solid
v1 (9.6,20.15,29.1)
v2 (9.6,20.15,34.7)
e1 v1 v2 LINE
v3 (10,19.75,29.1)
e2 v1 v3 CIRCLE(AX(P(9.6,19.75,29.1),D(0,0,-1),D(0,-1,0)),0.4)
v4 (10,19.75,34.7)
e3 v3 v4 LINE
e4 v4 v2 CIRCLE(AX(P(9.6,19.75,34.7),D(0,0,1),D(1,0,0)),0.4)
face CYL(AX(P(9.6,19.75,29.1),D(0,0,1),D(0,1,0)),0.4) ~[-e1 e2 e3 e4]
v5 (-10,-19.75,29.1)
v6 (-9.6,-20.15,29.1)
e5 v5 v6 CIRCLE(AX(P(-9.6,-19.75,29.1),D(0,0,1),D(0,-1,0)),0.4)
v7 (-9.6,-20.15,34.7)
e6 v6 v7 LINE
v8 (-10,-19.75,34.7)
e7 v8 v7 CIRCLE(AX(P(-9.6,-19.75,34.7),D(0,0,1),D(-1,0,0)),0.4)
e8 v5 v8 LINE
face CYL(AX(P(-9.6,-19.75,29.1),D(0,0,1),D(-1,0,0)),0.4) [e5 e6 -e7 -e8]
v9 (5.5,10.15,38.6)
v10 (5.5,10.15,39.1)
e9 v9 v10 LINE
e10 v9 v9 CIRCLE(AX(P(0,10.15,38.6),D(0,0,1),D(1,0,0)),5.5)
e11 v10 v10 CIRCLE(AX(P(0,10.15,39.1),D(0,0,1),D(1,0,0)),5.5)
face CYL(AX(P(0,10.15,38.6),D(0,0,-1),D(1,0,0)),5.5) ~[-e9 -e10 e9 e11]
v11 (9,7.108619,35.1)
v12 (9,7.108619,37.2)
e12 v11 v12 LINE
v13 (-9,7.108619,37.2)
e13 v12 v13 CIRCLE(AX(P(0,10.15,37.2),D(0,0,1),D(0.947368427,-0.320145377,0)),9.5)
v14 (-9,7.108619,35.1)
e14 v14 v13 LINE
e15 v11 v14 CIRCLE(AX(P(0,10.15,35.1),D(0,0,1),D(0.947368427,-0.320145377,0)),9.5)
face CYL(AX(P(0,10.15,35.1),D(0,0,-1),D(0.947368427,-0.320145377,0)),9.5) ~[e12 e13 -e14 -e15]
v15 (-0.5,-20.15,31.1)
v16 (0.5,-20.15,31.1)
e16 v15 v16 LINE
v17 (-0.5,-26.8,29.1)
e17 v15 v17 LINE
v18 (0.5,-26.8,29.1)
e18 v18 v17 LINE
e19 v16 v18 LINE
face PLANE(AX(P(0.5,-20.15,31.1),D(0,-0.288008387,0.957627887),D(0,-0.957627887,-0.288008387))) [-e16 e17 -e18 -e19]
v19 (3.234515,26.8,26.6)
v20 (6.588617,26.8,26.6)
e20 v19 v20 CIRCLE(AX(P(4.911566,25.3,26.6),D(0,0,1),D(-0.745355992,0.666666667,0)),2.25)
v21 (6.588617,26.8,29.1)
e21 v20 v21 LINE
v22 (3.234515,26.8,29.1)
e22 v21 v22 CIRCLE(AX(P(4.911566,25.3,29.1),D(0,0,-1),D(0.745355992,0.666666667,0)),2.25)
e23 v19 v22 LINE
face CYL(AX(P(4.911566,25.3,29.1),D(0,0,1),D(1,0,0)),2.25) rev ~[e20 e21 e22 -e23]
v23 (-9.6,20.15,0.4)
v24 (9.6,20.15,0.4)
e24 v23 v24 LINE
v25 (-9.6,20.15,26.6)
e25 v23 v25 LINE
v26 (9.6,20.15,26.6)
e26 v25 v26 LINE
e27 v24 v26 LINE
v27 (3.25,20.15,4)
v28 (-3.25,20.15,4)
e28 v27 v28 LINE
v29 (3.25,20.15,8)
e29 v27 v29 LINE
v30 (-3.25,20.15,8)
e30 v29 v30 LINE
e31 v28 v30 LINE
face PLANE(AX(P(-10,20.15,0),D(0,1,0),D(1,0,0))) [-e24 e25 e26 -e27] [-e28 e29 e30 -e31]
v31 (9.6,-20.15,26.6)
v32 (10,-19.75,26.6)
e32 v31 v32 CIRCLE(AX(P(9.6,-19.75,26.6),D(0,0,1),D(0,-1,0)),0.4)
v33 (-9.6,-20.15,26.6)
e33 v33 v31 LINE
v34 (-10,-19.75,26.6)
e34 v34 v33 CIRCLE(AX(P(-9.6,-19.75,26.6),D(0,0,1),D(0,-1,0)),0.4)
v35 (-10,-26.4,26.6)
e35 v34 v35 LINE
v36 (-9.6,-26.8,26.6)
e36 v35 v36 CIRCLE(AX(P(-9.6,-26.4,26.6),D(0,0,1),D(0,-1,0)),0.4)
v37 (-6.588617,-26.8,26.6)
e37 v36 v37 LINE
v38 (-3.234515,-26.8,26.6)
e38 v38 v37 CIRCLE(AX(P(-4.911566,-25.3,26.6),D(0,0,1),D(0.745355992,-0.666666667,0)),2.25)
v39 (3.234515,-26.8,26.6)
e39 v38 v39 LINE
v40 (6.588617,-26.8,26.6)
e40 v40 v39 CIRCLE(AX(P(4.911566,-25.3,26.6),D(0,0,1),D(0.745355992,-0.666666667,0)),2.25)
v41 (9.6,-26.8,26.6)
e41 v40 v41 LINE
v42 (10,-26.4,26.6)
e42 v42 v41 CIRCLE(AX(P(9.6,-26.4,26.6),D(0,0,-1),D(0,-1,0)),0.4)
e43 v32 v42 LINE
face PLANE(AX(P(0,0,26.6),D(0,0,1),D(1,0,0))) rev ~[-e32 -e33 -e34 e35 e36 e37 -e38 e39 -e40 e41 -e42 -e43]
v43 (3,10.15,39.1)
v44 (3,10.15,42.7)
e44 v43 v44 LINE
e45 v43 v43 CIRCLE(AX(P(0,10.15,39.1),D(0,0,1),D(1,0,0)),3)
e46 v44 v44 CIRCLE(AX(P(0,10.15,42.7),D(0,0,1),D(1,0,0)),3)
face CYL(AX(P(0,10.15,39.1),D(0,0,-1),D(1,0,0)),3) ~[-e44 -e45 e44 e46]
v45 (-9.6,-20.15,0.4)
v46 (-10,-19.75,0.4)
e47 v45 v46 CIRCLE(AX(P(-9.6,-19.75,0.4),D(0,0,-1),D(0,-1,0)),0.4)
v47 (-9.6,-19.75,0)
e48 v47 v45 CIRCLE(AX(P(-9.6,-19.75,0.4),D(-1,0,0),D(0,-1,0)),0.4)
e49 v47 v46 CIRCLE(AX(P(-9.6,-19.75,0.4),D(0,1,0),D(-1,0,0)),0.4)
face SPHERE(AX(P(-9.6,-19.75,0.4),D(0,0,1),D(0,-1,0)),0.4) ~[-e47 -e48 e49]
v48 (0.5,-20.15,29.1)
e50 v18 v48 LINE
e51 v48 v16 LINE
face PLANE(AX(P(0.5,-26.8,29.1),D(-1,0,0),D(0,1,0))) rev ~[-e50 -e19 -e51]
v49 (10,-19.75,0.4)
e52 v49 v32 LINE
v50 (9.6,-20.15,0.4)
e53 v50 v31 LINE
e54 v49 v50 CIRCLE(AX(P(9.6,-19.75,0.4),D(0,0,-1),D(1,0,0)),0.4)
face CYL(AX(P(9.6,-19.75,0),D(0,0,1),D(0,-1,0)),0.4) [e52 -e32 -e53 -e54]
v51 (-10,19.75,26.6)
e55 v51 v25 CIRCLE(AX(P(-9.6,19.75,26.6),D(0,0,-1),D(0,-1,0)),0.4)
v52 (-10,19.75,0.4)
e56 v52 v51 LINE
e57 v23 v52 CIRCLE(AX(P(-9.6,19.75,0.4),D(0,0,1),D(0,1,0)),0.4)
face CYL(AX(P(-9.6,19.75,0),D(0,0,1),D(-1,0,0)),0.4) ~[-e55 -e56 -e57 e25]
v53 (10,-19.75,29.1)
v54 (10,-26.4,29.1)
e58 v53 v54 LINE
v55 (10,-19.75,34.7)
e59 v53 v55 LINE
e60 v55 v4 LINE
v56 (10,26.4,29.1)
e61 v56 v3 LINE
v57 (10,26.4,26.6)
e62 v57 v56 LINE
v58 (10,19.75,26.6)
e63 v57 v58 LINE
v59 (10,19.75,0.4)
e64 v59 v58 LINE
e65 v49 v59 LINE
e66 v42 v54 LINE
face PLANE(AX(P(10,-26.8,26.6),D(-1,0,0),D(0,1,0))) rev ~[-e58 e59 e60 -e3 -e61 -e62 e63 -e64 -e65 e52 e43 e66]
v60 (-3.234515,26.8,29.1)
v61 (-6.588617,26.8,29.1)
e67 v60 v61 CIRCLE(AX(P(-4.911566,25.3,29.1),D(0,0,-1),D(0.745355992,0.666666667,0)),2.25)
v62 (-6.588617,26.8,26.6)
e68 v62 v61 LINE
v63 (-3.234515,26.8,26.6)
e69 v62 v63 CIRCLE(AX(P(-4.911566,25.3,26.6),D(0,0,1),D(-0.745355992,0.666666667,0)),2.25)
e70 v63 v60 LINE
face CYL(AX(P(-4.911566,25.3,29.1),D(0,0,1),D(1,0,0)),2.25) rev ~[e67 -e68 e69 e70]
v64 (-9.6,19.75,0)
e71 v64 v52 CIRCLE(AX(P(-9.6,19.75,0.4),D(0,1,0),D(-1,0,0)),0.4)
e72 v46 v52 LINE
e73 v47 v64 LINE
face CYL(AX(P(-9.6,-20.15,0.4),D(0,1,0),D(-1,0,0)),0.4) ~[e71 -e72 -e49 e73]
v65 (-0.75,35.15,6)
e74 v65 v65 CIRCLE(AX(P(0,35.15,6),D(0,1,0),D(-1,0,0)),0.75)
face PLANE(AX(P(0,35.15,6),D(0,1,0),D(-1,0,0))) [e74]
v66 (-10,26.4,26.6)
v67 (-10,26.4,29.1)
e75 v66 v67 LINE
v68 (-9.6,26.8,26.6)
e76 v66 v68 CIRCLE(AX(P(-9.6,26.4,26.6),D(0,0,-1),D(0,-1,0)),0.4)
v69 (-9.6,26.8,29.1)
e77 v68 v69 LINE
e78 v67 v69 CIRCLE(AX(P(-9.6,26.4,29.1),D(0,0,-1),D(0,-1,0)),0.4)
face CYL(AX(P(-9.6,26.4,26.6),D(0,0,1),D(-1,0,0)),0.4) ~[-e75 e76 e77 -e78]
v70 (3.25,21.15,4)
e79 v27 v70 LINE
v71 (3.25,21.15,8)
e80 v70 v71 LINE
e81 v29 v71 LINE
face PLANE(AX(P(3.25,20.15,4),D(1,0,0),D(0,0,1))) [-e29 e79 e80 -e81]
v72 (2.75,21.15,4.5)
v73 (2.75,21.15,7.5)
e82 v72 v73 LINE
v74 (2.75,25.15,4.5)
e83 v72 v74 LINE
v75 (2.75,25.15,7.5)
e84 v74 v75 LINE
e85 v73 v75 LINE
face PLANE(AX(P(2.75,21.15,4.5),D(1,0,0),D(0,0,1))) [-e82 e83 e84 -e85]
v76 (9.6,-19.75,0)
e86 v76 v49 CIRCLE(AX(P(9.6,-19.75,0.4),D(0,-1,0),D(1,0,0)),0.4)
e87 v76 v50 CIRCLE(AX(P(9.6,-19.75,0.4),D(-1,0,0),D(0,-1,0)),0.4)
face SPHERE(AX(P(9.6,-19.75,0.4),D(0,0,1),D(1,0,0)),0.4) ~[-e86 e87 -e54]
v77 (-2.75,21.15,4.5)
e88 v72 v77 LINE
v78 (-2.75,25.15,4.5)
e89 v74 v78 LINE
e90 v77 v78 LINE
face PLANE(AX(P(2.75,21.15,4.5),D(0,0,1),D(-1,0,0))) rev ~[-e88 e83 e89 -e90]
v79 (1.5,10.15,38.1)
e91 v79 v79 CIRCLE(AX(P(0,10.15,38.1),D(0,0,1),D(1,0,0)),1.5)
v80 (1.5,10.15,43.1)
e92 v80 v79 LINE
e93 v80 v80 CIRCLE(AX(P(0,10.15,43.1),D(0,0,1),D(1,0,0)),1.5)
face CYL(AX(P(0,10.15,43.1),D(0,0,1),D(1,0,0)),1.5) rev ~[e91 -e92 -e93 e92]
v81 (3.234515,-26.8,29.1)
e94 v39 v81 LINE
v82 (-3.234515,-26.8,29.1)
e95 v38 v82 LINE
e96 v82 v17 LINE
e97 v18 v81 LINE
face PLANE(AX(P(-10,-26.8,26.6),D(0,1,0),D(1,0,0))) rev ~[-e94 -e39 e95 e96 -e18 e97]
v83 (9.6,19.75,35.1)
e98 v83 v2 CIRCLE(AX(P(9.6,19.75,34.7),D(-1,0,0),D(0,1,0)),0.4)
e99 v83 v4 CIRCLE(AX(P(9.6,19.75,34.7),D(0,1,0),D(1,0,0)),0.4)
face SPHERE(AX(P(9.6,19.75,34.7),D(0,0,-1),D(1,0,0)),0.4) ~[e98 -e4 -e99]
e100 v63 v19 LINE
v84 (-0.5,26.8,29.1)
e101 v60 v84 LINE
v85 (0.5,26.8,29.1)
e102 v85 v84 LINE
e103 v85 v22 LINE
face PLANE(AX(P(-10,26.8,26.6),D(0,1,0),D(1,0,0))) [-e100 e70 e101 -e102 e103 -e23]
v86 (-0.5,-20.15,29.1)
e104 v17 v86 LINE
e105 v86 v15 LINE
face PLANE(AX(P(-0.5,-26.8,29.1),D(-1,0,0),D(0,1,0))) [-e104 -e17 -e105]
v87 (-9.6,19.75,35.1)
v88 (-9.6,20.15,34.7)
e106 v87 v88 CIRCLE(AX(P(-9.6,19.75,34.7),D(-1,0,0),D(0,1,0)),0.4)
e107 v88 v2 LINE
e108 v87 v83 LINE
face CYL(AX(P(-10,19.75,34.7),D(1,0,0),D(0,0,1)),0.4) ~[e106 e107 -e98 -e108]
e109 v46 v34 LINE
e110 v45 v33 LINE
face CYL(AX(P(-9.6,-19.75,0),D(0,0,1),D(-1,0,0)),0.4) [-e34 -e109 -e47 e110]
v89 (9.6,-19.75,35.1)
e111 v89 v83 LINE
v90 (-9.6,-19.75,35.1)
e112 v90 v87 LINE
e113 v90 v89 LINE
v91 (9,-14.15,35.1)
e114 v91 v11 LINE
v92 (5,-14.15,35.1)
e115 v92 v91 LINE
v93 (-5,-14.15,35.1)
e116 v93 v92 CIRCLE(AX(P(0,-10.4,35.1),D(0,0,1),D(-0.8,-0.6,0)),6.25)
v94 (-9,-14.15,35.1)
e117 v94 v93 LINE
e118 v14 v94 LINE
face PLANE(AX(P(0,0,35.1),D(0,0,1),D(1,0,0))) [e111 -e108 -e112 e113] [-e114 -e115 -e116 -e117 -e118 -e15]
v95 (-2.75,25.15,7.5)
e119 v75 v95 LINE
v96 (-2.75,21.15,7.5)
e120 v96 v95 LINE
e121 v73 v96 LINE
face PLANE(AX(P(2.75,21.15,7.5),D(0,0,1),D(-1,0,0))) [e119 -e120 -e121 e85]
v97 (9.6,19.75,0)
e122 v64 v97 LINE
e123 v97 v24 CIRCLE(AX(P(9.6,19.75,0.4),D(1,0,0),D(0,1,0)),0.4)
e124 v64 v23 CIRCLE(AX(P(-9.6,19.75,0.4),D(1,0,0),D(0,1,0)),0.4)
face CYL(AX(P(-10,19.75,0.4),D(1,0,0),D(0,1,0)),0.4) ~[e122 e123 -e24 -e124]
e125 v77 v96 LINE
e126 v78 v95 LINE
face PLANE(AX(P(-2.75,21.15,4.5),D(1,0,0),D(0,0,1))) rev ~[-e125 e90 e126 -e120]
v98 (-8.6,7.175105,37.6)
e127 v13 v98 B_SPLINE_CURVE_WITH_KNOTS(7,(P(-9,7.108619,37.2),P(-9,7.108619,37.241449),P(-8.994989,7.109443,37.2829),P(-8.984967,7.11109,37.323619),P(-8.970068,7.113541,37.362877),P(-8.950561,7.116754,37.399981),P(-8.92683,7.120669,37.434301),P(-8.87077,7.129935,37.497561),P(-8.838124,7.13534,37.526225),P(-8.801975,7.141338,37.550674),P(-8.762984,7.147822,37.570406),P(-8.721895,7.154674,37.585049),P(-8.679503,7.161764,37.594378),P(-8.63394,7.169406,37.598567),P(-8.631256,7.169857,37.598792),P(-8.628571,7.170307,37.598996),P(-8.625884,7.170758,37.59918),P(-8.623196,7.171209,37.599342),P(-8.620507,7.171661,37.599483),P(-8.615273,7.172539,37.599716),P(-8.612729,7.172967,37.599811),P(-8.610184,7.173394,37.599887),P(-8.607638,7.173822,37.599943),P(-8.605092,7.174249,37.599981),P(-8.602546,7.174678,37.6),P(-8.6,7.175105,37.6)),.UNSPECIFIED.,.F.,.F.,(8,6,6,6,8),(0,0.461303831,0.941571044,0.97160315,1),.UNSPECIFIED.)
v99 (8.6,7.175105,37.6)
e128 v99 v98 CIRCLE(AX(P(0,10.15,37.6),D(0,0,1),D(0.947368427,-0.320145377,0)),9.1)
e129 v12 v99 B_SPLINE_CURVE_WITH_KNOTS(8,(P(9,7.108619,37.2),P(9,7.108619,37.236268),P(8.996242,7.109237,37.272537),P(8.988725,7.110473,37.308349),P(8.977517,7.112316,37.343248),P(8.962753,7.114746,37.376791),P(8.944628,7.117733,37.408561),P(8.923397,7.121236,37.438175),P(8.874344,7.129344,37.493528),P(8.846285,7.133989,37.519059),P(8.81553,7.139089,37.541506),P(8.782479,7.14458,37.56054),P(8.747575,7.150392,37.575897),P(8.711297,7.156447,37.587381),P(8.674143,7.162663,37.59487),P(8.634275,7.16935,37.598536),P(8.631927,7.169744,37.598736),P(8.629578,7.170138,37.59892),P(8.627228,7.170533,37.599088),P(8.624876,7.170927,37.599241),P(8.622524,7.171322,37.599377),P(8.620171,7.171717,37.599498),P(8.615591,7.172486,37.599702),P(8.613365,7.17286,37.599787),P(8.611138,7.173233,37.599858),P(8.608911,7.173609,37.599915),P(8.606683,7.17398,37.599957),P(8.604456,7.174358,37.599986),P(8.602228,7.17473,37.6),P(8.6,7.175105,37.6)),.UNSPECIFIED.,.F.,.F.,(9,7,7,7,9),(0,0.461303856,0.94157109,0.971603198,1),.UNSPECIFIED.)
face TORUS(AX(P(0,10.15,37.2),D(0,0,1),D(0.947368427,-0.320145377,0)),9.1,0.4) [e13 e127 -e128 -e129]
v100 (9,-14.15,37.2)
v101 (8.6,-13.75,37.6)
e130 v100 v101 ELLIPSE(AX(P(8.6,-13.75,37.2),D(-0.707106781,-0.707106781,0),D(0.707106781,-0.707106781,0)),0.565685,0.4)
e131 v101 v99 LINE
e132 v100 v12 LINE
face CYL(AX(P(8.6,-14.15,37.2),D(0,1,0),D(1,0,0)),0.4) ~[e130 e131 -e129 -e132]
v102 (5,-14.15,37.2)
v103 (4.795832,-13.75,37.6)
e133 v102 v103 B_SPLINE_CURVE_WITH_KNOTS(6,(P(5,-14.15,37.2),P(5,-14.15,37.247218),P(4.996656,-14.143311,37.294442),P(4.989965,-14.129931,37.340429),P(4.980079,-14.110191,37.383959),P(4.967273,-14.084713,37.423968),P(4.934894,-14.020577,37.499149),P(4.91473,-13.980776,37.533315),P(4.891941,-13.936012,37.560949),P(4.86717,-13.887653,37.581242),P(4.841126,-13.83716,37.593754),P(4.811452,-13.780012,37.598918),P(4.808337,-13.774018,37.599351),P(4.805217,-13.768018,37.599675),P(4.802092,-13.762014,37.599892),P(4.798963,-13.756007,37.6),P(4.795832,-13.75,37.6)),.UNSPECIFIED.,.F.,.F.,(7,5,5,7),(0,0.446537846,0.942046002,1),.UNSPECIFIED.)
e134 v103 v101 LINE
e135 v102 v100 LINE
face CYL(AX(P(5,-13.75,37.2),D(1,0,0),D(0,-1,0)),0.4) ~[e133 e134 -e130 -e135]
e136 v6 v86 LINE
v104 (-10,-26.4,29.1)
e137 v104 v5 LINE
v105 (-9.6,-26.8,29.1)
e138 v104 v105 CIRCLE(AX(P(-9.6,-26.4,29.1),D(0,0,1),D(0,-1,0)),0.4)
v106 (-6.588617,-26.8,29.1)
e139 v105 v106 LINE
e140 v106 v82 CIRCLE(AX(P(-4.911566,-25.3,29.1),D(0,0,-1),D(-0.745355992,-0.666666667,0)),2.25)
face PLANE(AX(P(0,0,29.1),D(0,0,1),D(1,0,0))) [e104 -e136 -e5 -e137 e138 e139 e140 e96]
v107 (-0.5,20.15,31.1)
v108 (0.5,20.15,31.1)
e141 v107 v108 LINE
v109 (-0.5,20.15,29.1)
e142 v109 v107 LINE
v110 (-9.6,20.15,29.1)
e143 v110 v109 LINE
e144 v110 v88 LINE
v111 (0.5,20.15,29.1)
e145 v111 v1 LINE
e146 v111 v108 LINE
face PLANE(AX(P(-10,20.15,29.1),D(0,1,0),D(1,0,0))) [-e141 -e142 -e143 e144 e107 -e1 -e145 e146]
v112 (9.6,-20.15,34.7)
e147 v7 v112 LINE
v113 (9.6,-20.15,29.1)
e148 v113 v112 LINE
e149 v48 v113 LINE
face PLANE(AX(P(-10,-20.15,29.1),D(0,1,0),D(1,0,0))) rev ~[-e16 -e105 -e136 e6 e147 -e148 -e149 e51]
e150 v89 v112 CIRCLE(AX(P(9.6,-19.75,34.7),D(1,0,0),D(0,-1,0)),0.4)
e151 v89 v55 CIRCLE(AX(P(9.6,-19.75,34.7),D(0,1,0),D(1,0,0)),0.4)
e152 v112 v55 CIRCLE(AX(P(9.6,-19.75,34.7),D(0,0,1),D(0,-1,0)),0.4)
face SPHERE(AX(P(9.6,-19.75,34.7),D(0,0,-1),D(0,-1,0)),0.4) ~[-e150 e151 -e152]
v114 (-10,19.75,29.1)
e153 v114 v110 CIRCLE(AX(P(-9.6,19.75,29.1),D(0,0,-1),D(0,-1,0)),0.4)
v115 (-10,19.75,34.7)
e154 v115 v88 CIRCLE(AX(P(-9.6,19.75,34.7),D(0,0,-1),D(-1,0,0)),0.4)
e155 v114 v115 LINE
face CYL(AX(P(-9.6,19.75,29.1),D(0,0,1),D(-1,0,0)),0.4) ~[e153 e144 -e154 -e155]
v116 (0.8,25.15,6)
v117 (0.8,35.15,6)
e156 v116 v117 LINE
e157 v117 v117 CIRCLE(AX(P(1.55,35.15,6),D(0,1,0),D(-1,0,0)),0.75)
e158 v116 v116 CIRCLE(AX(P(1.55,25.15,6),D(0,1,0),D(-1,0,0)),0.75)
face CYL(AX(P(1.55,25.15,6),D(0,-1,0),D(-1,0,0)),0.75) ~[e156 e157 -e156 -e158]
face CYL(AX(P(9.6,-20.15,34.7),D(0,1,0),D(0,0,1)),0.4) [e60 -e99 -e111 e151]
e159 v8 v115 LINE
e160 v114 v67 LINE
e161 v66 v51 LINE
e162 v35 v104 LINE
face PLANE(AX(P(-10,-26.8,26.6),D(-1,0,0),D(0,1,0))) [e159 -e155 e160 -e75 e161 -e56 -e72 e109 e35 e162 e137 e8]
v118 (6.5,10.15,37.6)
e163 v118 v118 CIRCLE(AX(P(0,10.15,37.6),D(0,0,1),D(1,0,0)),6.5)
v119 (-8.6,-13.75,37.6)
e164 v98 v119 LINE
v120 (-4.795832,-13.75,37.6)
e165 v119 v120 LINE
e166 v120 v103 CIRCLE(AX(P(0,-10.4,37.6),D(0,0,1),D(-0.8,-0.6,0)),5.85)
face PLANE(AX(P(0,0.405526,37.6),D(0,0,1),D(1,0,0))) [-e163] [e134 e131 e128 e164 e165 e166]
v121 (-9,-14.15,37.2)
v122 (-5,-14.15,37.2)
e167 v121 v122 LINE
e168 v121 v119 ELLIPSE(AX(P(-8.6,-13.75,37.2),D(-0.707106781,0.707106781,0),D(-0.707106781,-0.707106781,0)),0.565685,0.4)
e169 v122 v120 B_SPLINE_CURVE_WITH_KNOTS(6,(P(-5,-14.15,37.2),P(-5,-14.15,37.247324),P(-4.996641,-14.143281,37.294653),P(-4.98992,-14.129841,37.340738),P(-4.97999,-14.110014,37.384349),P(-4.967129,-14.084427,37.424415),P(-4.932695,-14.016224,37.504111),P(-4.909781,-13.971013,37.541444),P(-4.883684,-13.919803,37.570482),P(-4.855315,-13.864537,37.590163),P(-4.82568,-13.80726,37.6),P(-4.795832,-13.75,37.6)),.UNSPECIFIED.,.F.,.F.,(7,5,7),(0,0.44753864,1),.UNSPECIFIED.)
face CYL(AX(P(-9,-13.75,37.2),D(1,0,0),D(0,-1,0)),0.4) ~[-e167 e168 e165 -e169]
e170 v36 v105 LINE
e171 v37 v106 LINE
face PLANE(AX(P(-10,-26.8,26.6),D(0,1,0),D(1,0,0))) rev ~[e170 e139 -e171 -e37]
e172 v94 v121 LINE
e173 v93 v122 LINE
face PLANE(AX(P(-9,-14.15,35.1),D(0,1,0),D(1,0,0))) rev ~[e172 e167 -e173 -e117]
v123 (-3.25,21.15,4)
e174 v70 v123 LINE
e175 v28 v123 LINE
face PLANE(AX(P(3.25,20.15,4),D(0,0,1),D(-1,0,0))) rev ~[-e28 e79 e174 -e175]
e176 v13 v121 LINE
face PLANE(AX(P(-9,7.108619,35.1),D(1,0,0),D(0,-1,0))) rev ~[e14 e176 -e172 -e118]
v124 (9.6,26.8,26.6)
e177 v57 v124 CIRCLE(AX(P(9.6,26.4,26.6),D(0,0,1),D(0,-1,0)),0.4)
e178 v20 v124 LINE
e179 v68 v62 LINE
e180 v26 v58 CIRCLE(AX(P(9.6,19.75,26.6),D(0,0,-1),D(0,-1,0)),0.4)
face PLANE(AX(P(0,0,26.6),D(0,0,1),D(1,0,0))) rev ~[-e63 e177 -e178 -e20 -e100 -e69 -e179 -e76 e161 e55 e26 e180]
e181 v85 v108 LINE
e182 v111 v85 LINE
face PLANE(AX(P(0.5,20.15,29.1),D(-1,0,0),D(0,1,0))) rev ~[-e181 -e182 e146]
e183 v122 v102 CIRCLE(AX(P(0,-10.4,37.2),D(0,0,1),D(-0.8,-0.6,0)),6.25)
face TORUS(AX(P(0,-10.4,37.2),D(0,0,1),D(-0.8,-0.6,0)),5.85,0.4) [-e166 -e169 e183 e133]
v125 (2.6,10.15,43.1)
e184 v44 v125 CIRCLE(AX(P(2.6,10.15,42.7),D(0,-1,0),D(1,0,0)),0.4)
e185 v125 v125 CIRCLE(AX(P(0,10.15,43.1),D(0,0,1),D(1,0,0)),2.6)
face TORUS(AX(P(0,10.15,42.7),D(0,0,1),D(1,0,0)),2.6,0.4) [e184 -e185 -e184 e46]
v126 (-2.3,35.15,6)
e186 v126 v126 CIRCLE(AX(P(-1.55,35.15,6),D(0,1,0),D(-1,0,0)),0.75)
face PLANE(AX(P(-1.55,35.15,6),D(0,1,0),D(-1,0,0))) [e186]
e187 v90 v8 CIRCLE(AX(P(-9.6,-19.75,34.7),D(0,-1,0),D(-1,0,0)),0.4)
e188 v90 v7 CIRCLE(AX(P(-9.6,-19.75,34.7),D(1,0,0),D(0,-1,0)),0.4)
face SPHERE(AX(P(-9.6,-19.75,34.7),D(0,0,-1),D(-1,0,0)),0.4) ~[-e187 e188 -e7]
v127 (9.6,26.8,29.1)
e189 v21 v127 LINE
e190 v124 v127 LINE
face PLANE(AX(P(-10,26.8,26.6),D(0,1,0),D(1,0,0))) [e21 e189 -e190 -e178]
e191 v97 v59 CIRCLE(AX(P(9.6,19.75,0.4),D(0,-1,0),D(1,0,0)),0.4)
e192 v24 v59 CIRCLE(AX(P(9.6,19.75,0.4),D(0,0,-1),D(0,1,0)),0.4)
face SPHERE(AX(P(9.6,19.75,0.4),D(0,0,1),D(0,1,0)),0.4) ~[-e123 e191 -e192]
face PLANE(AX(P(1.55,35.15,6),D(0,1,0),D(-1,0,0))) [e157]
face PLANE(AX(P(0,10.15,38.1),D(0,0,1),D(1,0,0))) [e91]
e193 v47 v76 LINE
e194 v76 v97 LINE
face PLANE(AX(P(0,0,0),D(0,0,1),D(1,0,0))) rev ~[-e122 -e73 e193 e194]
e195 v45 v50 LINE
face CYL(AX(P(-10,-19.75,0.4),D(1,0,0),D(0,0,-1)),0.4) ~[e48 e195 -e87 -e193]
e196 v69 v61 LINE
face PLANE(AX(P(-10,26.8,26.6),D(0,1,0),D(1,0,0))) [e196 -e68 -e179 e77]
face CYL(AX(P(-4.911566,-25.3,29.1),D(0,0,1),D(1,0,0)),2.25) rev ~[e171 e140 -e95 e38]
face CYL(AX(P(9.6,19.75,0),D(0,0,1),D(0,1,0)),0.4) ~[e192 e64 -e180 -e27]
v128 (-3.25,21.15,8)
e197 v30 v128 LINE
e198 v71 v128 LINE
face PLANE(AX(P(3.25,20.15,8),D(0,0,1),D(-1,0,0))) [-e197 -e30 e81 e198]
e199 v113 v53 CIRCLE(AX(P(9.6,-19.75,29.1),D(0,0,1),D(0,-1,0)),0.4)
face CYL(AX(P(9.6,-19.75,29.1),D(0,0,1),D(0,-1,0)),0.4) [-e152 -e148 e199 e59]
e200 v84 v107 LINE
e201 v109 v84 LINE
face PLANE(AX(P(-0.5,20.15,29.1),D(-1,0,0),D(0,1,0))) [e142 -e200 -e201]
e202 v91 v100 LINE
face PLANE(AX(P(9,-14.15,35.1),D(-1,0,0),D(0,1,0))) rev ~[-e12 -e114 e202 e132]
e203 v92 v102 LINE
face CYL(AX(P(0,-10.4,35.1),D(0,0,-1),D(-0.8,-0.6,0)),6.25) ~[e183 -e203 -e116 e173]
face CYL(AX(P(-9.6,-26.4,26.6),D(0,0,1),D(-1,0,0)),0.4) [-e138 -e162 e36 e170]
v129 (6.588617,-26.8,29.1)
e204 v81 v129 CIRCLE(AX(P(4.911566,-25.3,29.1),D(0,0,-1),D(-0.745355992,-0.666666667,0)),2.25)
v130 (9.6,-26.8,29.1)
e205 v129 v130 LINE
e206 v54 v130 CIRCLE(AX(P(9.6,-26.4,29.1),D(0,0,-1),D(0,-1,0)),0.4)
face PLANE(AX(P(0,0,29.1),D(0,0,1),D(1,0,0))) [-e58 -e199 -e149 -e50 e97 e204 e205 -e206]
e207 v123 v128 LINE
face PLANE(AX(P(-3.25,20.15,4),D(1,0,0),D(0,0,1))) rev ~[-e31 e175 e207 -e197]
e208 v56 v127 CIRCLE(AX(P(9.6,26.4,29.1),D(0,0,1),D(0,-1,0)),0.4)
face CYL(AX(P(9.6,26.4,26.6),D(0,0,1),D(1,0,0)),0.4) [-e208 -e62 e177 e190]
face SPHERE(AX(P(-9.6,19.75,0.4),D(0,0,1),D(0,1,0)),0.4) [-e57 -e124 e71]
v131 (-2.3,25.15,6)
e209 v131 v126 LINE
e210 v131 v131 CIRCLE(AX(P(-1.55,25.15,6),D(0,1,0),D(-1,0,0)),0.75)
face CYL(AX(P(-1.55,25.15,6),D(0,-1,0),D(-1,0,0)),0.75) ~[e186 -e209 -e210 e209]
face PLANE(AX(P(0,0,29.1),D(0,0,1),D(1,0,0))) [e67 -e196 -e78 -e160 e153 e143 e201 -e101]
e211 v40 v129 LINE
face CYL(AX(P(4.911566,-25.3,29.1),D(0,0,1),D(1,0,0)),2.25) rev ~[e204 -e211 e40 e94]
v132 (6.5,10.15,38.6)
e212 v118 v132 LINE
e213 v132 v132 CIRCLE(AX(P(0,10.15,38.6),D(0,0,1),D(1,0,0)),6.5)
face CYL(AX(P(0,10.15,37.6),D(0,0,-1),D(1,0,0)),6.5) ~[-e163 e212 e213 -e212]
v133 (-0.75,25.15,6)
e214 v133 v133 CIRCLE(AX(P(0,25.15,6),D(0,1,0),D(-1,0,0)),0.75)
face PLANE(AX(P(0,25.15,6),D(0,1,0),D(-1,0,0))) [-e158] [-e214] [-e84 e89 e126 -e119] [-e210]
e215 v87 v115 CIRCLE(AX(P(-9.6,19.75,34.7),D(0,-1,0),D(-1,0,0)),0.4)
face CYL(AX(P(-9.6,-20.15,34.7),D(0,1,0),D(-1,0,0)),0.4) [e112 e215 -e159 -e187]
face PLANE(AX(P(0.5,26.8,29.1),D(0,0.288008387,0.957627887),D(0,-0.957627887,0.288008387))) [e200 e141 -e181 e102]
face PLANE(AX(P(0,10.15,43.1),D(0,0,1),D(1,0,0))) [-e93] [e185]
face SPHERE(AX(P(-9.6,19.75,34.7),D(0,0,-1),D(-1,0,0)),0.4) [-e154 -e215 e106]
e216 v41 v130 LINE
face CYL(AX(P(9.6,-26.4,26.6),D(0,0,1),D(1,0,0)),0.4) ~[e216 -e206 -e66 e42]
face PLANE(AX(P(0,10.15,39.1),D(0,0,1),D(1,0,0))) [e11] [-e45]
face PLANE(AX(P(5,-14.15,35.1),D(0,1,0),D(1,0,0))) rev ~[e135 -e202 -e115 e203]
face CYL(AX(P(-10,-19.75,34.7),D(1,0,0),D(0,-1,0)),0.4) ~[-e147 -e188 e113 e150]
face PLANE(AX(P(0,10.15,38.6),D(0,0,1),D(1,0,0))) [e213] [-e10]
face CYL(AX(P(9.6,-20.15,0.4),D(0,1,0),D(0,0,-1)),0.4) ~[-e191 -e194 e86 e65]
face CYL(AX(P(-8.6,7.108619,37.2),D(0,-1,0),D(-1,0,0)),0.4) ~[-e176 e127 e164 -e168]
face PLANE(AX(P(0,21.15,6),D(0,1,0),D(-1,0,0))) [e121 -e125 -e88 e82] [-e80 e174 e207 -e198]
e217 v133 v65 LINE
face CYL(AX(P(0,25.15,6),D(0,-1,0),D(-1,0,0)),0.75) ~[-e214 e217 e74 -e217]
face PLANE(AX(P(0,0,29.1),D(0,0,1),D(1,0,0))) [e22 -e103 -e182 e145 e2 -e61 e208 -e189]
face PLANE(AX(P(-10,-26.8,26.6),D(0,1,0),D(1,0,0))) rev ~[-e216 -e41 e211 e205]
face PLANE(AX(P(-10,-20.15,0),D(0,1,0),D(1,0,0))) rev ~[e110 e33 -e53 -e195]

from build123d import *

# Parameters (mm, degrees)
SKETCH_W        = 20
SKETCH_H        = 40.3
PAD_DEPTH       = 26.6
SKETCH001_W     = 20
SKETCH001_H     = 53.6
PAD001_DEPTH    = 2.5
SKETCH002_W     = 20
SKETCH002_H     = 40.3
PAD002_DEPTH    = 6
PAD003_DEPTH    = 2.5
SKETCH004_R     = 6.5
PAD004_DEPTH    = 1
SKETCH005_R     = 5.5
PAD005_DEPTH    = 0.5
SKETCH006_R     = 3
PAD006_DEPTH    = 4
SKETCH007_R     = 1.5
POCKET_DEPTH    = 5
SKETCH008_R     = 2.25
POCKET001_DEPTH = 5
SKETCH009_W     = 1
SKETCH009_H     = 6.65
PAD007_DEPTH    = 2
POCKET002_DEPTH = 1
FILLET_R        = 0.4
SKETCH011_W     = 6.5
SKETCH011_H     = 4
PAD008_DEPTH    = 1
SKETCH012_W     = 5.5
SKETCH012_H     = 3
PAD009_DEPTH    = 4
SKETCH013_R     = 0.75
PAD010_DEPTH    = 10


with BuildPart() as part:
    # Sketch → Pad (new body)
    with BuildSketch(Plane.XY):
        Rectangle(SKETCH_W, SKETCH_H)
    extrude(amount=PAD_DEPTH)

    # Sketch001 (on Face6 of Pad) → Pad001 (join)
    with BuildSketch(Plane.XY.offset(26.6)):
        Rectangle(SKETCH001_W, SKETCH001_H)
    extrude(amount=PAD001_DEPTH)

    # Sketch002 (on Face5 of Pad001) → Pad002 (join)
    with BuildSketch(Plane.XY.offset(29.1)):
        Rectangle(SKETCH002_W, SKETCH002_H)
    extrude(amount=PAD002_DEPTH)

    # Sketch003 (on Face18 of Pad002) → Pad003 (join)
    with BuildSketch(Plane.XY.offset(35.1)):
        with BuildLine():
            ThreePointArc((9, 7.108619), (0, 19.65), (-9, 7.108619))
            Line((-9, 7.108619), (-9, -14.15))
            Line((-9, -14.15), (-5, -14.15))
            ThreePointArc((-5, -14.15), (0, -16.65), (5, -14.15))
            Line((5, -14.15), (9, -14.15))
            Line((9, -14.15), (9, 7.108619))
        make_face()
    extrude(amount=PAD003_DEPTH)

    # Sketch004 (on Face25 of Pad003) → Pad004 (join)
    with BuildSketch(Plane.XY.offset(37.6)):
        with Locations((0, 10.15)):
            Circle(SKETCH004_R)
    extrude(amount=PAD004_DEPTH)

    # Sketch005 (on Face27 of Pad004) → Pad005 (join)
    with BuildSketch(Plane.XY.offset(38.6)):
        with Locations((0, 10.15)):
            Circle(SKETCH005_R)
    extrude(amount=PAD005_DEPTH)

    # Sketch006 (on Face29 of Pad005) → Pad006 (join)
    with BuildSketch(Plane.XY.offset(39.1)):
        with Locations((0, 10.15)):
            Circle(SKETCH006_R)
    extrude(amount=PAD006_DEPTH)

    # Sketch007 (on Face31 of Pad006) → Pocket (cut)
    with BuildSketch(Plane.XY.offset(43.1)):
        with Locations((0, 10.15)):
            Circle(SKETCH007_R)
    extrude(amount=-POCKET_DEPTH, mode=Mode.SUBTRACT)

    # Sketch008 (on Face5 of Pocket) → Pocket001 (cut)
    with BuildSketch(Plane.XY.offset(29.1)):
        with Locations((-4.911566, 25.3)):
            Circle(SKETCH008_R)
        with Locations((4.911566, 25.3)):
            Circle(SKETCH008_R)
        with Locations((-4.911566, -25.3)):
            Circle(SKETCH008_R)
        with Locations((4.911566, -25.3)):
            Circle(SKETCH008_R)
    extrude(amount=-POCKET001_DEPTH, mode=Mode.SUBTRACT)

    # Sketch009 (on Face4 of Pocket001) → Pad007 (join)
    with BuildSketch(Plane.XY.offset(29.1)):
        with Locations((0, 23.475)):
            Rectangle(SKETCH009_W, SKETCH009_H)
        with Locations((0, -23.475)):
            Rectangle(SKETCH009_W, SKETCH009_H)
    extrude(amount=PAD007_DEPTH)

    # Sketch010 (on Face28 of Pad007) → Pocket002 (cut)
    with BuildSketch(Plane.YZ.offset(0.5)):
        Polygon((-26.8, 29.1), (-26.8, 31.1), (-20.15, 31.1), align=None)
        Polygon((20.15, 31.1), (26.8, 31.1), (26.8, 29.1), align=None)
    extrude(amount=-POCKET002_DEPTH, mode=Mode.SUBTRACT)

    # Fillet
    fillet_edges = [part.edges().sort_by_distance(p)[0] for p in [
        (10, -20.15, 13.3),
        (-10, -20.15, 13.3),
        (10, 20.15, 13.3),
        (-10, 20.15, 13.3),
        (-10, 20.15, 32.1),
        (10, 20.15, 32.1),
        (-10, -20.15, 32.1),
        (10, -20.15, 32.1),
        (-10, 0, 35.1),
        (0, -20.15, 35.1),
        (10, 0, 35.1),
        (0, 20.15, 35.1),
        (10, 26.8, 27.85),
        (-10, 26.8, 27.85),
        (-10, -26.8, 27.85),
        (10, -26.8, 27.85),
        (0, 19.65, 37.6),
        (-9, -3.520691, 37.6),
        (-7, -14.15, 37.6),
        (0, -16.65, 37.6),
        (7, -14.15, 37.6),
        (9, -3.520691, 37.6),
        (-3, 10.15, 43.1),
        (0, 20.15, 0),
        (10, 0, 0),
        (0, -20.15, 0),
        (-10, 0, 0),
    ]]
    fillet(fillet_edges, radius=FILLET_R)

    # Sketch011 (on Face50 of Fillet) → Pad008 (join)
    with BuildSketch(Plane(origin=(0, 20.15, 0), x_dir=(-1, 0, 0), z_dir=(0, 1, 0))):
        with Locations((0, 6)):
            Rectangle(SKETCH011_W, SKETCH011_H)
    extrude(amount=PAD008_DEPTH)

    # Sketch012 (on Face77 of Pad008) → Pad009 (join)
    with BuildSketch(Plane(origin=(0, 21.15, 0), x_dir=(-1, 0, 0), z_dir=(0, 1, 0))):
        with Locations((0, 6)):
            Rectangle(SKETCH012_W, SKETCH012_H)
    extrude(amount=PAD009_DEPTH)

    # Sketch013 (on Face89 of Pad009) → Pad010 (join)
    with BuildSketch(Plane(origin=(0, 25.15, 0), x_dir=(-1, 0, 0), z_dir=(0, 1, 0))):
        with Locations((-1.55, 6)):
            Circle(SKETCH013_R)
        with Locations((0, 6)):
            Circle(SKETCH013_R)
        with Locations((1.55, 6)):
            Circle(SKETCH013_R)
    extrude(amount=PAD010_DEPTH)


solid = part.part
